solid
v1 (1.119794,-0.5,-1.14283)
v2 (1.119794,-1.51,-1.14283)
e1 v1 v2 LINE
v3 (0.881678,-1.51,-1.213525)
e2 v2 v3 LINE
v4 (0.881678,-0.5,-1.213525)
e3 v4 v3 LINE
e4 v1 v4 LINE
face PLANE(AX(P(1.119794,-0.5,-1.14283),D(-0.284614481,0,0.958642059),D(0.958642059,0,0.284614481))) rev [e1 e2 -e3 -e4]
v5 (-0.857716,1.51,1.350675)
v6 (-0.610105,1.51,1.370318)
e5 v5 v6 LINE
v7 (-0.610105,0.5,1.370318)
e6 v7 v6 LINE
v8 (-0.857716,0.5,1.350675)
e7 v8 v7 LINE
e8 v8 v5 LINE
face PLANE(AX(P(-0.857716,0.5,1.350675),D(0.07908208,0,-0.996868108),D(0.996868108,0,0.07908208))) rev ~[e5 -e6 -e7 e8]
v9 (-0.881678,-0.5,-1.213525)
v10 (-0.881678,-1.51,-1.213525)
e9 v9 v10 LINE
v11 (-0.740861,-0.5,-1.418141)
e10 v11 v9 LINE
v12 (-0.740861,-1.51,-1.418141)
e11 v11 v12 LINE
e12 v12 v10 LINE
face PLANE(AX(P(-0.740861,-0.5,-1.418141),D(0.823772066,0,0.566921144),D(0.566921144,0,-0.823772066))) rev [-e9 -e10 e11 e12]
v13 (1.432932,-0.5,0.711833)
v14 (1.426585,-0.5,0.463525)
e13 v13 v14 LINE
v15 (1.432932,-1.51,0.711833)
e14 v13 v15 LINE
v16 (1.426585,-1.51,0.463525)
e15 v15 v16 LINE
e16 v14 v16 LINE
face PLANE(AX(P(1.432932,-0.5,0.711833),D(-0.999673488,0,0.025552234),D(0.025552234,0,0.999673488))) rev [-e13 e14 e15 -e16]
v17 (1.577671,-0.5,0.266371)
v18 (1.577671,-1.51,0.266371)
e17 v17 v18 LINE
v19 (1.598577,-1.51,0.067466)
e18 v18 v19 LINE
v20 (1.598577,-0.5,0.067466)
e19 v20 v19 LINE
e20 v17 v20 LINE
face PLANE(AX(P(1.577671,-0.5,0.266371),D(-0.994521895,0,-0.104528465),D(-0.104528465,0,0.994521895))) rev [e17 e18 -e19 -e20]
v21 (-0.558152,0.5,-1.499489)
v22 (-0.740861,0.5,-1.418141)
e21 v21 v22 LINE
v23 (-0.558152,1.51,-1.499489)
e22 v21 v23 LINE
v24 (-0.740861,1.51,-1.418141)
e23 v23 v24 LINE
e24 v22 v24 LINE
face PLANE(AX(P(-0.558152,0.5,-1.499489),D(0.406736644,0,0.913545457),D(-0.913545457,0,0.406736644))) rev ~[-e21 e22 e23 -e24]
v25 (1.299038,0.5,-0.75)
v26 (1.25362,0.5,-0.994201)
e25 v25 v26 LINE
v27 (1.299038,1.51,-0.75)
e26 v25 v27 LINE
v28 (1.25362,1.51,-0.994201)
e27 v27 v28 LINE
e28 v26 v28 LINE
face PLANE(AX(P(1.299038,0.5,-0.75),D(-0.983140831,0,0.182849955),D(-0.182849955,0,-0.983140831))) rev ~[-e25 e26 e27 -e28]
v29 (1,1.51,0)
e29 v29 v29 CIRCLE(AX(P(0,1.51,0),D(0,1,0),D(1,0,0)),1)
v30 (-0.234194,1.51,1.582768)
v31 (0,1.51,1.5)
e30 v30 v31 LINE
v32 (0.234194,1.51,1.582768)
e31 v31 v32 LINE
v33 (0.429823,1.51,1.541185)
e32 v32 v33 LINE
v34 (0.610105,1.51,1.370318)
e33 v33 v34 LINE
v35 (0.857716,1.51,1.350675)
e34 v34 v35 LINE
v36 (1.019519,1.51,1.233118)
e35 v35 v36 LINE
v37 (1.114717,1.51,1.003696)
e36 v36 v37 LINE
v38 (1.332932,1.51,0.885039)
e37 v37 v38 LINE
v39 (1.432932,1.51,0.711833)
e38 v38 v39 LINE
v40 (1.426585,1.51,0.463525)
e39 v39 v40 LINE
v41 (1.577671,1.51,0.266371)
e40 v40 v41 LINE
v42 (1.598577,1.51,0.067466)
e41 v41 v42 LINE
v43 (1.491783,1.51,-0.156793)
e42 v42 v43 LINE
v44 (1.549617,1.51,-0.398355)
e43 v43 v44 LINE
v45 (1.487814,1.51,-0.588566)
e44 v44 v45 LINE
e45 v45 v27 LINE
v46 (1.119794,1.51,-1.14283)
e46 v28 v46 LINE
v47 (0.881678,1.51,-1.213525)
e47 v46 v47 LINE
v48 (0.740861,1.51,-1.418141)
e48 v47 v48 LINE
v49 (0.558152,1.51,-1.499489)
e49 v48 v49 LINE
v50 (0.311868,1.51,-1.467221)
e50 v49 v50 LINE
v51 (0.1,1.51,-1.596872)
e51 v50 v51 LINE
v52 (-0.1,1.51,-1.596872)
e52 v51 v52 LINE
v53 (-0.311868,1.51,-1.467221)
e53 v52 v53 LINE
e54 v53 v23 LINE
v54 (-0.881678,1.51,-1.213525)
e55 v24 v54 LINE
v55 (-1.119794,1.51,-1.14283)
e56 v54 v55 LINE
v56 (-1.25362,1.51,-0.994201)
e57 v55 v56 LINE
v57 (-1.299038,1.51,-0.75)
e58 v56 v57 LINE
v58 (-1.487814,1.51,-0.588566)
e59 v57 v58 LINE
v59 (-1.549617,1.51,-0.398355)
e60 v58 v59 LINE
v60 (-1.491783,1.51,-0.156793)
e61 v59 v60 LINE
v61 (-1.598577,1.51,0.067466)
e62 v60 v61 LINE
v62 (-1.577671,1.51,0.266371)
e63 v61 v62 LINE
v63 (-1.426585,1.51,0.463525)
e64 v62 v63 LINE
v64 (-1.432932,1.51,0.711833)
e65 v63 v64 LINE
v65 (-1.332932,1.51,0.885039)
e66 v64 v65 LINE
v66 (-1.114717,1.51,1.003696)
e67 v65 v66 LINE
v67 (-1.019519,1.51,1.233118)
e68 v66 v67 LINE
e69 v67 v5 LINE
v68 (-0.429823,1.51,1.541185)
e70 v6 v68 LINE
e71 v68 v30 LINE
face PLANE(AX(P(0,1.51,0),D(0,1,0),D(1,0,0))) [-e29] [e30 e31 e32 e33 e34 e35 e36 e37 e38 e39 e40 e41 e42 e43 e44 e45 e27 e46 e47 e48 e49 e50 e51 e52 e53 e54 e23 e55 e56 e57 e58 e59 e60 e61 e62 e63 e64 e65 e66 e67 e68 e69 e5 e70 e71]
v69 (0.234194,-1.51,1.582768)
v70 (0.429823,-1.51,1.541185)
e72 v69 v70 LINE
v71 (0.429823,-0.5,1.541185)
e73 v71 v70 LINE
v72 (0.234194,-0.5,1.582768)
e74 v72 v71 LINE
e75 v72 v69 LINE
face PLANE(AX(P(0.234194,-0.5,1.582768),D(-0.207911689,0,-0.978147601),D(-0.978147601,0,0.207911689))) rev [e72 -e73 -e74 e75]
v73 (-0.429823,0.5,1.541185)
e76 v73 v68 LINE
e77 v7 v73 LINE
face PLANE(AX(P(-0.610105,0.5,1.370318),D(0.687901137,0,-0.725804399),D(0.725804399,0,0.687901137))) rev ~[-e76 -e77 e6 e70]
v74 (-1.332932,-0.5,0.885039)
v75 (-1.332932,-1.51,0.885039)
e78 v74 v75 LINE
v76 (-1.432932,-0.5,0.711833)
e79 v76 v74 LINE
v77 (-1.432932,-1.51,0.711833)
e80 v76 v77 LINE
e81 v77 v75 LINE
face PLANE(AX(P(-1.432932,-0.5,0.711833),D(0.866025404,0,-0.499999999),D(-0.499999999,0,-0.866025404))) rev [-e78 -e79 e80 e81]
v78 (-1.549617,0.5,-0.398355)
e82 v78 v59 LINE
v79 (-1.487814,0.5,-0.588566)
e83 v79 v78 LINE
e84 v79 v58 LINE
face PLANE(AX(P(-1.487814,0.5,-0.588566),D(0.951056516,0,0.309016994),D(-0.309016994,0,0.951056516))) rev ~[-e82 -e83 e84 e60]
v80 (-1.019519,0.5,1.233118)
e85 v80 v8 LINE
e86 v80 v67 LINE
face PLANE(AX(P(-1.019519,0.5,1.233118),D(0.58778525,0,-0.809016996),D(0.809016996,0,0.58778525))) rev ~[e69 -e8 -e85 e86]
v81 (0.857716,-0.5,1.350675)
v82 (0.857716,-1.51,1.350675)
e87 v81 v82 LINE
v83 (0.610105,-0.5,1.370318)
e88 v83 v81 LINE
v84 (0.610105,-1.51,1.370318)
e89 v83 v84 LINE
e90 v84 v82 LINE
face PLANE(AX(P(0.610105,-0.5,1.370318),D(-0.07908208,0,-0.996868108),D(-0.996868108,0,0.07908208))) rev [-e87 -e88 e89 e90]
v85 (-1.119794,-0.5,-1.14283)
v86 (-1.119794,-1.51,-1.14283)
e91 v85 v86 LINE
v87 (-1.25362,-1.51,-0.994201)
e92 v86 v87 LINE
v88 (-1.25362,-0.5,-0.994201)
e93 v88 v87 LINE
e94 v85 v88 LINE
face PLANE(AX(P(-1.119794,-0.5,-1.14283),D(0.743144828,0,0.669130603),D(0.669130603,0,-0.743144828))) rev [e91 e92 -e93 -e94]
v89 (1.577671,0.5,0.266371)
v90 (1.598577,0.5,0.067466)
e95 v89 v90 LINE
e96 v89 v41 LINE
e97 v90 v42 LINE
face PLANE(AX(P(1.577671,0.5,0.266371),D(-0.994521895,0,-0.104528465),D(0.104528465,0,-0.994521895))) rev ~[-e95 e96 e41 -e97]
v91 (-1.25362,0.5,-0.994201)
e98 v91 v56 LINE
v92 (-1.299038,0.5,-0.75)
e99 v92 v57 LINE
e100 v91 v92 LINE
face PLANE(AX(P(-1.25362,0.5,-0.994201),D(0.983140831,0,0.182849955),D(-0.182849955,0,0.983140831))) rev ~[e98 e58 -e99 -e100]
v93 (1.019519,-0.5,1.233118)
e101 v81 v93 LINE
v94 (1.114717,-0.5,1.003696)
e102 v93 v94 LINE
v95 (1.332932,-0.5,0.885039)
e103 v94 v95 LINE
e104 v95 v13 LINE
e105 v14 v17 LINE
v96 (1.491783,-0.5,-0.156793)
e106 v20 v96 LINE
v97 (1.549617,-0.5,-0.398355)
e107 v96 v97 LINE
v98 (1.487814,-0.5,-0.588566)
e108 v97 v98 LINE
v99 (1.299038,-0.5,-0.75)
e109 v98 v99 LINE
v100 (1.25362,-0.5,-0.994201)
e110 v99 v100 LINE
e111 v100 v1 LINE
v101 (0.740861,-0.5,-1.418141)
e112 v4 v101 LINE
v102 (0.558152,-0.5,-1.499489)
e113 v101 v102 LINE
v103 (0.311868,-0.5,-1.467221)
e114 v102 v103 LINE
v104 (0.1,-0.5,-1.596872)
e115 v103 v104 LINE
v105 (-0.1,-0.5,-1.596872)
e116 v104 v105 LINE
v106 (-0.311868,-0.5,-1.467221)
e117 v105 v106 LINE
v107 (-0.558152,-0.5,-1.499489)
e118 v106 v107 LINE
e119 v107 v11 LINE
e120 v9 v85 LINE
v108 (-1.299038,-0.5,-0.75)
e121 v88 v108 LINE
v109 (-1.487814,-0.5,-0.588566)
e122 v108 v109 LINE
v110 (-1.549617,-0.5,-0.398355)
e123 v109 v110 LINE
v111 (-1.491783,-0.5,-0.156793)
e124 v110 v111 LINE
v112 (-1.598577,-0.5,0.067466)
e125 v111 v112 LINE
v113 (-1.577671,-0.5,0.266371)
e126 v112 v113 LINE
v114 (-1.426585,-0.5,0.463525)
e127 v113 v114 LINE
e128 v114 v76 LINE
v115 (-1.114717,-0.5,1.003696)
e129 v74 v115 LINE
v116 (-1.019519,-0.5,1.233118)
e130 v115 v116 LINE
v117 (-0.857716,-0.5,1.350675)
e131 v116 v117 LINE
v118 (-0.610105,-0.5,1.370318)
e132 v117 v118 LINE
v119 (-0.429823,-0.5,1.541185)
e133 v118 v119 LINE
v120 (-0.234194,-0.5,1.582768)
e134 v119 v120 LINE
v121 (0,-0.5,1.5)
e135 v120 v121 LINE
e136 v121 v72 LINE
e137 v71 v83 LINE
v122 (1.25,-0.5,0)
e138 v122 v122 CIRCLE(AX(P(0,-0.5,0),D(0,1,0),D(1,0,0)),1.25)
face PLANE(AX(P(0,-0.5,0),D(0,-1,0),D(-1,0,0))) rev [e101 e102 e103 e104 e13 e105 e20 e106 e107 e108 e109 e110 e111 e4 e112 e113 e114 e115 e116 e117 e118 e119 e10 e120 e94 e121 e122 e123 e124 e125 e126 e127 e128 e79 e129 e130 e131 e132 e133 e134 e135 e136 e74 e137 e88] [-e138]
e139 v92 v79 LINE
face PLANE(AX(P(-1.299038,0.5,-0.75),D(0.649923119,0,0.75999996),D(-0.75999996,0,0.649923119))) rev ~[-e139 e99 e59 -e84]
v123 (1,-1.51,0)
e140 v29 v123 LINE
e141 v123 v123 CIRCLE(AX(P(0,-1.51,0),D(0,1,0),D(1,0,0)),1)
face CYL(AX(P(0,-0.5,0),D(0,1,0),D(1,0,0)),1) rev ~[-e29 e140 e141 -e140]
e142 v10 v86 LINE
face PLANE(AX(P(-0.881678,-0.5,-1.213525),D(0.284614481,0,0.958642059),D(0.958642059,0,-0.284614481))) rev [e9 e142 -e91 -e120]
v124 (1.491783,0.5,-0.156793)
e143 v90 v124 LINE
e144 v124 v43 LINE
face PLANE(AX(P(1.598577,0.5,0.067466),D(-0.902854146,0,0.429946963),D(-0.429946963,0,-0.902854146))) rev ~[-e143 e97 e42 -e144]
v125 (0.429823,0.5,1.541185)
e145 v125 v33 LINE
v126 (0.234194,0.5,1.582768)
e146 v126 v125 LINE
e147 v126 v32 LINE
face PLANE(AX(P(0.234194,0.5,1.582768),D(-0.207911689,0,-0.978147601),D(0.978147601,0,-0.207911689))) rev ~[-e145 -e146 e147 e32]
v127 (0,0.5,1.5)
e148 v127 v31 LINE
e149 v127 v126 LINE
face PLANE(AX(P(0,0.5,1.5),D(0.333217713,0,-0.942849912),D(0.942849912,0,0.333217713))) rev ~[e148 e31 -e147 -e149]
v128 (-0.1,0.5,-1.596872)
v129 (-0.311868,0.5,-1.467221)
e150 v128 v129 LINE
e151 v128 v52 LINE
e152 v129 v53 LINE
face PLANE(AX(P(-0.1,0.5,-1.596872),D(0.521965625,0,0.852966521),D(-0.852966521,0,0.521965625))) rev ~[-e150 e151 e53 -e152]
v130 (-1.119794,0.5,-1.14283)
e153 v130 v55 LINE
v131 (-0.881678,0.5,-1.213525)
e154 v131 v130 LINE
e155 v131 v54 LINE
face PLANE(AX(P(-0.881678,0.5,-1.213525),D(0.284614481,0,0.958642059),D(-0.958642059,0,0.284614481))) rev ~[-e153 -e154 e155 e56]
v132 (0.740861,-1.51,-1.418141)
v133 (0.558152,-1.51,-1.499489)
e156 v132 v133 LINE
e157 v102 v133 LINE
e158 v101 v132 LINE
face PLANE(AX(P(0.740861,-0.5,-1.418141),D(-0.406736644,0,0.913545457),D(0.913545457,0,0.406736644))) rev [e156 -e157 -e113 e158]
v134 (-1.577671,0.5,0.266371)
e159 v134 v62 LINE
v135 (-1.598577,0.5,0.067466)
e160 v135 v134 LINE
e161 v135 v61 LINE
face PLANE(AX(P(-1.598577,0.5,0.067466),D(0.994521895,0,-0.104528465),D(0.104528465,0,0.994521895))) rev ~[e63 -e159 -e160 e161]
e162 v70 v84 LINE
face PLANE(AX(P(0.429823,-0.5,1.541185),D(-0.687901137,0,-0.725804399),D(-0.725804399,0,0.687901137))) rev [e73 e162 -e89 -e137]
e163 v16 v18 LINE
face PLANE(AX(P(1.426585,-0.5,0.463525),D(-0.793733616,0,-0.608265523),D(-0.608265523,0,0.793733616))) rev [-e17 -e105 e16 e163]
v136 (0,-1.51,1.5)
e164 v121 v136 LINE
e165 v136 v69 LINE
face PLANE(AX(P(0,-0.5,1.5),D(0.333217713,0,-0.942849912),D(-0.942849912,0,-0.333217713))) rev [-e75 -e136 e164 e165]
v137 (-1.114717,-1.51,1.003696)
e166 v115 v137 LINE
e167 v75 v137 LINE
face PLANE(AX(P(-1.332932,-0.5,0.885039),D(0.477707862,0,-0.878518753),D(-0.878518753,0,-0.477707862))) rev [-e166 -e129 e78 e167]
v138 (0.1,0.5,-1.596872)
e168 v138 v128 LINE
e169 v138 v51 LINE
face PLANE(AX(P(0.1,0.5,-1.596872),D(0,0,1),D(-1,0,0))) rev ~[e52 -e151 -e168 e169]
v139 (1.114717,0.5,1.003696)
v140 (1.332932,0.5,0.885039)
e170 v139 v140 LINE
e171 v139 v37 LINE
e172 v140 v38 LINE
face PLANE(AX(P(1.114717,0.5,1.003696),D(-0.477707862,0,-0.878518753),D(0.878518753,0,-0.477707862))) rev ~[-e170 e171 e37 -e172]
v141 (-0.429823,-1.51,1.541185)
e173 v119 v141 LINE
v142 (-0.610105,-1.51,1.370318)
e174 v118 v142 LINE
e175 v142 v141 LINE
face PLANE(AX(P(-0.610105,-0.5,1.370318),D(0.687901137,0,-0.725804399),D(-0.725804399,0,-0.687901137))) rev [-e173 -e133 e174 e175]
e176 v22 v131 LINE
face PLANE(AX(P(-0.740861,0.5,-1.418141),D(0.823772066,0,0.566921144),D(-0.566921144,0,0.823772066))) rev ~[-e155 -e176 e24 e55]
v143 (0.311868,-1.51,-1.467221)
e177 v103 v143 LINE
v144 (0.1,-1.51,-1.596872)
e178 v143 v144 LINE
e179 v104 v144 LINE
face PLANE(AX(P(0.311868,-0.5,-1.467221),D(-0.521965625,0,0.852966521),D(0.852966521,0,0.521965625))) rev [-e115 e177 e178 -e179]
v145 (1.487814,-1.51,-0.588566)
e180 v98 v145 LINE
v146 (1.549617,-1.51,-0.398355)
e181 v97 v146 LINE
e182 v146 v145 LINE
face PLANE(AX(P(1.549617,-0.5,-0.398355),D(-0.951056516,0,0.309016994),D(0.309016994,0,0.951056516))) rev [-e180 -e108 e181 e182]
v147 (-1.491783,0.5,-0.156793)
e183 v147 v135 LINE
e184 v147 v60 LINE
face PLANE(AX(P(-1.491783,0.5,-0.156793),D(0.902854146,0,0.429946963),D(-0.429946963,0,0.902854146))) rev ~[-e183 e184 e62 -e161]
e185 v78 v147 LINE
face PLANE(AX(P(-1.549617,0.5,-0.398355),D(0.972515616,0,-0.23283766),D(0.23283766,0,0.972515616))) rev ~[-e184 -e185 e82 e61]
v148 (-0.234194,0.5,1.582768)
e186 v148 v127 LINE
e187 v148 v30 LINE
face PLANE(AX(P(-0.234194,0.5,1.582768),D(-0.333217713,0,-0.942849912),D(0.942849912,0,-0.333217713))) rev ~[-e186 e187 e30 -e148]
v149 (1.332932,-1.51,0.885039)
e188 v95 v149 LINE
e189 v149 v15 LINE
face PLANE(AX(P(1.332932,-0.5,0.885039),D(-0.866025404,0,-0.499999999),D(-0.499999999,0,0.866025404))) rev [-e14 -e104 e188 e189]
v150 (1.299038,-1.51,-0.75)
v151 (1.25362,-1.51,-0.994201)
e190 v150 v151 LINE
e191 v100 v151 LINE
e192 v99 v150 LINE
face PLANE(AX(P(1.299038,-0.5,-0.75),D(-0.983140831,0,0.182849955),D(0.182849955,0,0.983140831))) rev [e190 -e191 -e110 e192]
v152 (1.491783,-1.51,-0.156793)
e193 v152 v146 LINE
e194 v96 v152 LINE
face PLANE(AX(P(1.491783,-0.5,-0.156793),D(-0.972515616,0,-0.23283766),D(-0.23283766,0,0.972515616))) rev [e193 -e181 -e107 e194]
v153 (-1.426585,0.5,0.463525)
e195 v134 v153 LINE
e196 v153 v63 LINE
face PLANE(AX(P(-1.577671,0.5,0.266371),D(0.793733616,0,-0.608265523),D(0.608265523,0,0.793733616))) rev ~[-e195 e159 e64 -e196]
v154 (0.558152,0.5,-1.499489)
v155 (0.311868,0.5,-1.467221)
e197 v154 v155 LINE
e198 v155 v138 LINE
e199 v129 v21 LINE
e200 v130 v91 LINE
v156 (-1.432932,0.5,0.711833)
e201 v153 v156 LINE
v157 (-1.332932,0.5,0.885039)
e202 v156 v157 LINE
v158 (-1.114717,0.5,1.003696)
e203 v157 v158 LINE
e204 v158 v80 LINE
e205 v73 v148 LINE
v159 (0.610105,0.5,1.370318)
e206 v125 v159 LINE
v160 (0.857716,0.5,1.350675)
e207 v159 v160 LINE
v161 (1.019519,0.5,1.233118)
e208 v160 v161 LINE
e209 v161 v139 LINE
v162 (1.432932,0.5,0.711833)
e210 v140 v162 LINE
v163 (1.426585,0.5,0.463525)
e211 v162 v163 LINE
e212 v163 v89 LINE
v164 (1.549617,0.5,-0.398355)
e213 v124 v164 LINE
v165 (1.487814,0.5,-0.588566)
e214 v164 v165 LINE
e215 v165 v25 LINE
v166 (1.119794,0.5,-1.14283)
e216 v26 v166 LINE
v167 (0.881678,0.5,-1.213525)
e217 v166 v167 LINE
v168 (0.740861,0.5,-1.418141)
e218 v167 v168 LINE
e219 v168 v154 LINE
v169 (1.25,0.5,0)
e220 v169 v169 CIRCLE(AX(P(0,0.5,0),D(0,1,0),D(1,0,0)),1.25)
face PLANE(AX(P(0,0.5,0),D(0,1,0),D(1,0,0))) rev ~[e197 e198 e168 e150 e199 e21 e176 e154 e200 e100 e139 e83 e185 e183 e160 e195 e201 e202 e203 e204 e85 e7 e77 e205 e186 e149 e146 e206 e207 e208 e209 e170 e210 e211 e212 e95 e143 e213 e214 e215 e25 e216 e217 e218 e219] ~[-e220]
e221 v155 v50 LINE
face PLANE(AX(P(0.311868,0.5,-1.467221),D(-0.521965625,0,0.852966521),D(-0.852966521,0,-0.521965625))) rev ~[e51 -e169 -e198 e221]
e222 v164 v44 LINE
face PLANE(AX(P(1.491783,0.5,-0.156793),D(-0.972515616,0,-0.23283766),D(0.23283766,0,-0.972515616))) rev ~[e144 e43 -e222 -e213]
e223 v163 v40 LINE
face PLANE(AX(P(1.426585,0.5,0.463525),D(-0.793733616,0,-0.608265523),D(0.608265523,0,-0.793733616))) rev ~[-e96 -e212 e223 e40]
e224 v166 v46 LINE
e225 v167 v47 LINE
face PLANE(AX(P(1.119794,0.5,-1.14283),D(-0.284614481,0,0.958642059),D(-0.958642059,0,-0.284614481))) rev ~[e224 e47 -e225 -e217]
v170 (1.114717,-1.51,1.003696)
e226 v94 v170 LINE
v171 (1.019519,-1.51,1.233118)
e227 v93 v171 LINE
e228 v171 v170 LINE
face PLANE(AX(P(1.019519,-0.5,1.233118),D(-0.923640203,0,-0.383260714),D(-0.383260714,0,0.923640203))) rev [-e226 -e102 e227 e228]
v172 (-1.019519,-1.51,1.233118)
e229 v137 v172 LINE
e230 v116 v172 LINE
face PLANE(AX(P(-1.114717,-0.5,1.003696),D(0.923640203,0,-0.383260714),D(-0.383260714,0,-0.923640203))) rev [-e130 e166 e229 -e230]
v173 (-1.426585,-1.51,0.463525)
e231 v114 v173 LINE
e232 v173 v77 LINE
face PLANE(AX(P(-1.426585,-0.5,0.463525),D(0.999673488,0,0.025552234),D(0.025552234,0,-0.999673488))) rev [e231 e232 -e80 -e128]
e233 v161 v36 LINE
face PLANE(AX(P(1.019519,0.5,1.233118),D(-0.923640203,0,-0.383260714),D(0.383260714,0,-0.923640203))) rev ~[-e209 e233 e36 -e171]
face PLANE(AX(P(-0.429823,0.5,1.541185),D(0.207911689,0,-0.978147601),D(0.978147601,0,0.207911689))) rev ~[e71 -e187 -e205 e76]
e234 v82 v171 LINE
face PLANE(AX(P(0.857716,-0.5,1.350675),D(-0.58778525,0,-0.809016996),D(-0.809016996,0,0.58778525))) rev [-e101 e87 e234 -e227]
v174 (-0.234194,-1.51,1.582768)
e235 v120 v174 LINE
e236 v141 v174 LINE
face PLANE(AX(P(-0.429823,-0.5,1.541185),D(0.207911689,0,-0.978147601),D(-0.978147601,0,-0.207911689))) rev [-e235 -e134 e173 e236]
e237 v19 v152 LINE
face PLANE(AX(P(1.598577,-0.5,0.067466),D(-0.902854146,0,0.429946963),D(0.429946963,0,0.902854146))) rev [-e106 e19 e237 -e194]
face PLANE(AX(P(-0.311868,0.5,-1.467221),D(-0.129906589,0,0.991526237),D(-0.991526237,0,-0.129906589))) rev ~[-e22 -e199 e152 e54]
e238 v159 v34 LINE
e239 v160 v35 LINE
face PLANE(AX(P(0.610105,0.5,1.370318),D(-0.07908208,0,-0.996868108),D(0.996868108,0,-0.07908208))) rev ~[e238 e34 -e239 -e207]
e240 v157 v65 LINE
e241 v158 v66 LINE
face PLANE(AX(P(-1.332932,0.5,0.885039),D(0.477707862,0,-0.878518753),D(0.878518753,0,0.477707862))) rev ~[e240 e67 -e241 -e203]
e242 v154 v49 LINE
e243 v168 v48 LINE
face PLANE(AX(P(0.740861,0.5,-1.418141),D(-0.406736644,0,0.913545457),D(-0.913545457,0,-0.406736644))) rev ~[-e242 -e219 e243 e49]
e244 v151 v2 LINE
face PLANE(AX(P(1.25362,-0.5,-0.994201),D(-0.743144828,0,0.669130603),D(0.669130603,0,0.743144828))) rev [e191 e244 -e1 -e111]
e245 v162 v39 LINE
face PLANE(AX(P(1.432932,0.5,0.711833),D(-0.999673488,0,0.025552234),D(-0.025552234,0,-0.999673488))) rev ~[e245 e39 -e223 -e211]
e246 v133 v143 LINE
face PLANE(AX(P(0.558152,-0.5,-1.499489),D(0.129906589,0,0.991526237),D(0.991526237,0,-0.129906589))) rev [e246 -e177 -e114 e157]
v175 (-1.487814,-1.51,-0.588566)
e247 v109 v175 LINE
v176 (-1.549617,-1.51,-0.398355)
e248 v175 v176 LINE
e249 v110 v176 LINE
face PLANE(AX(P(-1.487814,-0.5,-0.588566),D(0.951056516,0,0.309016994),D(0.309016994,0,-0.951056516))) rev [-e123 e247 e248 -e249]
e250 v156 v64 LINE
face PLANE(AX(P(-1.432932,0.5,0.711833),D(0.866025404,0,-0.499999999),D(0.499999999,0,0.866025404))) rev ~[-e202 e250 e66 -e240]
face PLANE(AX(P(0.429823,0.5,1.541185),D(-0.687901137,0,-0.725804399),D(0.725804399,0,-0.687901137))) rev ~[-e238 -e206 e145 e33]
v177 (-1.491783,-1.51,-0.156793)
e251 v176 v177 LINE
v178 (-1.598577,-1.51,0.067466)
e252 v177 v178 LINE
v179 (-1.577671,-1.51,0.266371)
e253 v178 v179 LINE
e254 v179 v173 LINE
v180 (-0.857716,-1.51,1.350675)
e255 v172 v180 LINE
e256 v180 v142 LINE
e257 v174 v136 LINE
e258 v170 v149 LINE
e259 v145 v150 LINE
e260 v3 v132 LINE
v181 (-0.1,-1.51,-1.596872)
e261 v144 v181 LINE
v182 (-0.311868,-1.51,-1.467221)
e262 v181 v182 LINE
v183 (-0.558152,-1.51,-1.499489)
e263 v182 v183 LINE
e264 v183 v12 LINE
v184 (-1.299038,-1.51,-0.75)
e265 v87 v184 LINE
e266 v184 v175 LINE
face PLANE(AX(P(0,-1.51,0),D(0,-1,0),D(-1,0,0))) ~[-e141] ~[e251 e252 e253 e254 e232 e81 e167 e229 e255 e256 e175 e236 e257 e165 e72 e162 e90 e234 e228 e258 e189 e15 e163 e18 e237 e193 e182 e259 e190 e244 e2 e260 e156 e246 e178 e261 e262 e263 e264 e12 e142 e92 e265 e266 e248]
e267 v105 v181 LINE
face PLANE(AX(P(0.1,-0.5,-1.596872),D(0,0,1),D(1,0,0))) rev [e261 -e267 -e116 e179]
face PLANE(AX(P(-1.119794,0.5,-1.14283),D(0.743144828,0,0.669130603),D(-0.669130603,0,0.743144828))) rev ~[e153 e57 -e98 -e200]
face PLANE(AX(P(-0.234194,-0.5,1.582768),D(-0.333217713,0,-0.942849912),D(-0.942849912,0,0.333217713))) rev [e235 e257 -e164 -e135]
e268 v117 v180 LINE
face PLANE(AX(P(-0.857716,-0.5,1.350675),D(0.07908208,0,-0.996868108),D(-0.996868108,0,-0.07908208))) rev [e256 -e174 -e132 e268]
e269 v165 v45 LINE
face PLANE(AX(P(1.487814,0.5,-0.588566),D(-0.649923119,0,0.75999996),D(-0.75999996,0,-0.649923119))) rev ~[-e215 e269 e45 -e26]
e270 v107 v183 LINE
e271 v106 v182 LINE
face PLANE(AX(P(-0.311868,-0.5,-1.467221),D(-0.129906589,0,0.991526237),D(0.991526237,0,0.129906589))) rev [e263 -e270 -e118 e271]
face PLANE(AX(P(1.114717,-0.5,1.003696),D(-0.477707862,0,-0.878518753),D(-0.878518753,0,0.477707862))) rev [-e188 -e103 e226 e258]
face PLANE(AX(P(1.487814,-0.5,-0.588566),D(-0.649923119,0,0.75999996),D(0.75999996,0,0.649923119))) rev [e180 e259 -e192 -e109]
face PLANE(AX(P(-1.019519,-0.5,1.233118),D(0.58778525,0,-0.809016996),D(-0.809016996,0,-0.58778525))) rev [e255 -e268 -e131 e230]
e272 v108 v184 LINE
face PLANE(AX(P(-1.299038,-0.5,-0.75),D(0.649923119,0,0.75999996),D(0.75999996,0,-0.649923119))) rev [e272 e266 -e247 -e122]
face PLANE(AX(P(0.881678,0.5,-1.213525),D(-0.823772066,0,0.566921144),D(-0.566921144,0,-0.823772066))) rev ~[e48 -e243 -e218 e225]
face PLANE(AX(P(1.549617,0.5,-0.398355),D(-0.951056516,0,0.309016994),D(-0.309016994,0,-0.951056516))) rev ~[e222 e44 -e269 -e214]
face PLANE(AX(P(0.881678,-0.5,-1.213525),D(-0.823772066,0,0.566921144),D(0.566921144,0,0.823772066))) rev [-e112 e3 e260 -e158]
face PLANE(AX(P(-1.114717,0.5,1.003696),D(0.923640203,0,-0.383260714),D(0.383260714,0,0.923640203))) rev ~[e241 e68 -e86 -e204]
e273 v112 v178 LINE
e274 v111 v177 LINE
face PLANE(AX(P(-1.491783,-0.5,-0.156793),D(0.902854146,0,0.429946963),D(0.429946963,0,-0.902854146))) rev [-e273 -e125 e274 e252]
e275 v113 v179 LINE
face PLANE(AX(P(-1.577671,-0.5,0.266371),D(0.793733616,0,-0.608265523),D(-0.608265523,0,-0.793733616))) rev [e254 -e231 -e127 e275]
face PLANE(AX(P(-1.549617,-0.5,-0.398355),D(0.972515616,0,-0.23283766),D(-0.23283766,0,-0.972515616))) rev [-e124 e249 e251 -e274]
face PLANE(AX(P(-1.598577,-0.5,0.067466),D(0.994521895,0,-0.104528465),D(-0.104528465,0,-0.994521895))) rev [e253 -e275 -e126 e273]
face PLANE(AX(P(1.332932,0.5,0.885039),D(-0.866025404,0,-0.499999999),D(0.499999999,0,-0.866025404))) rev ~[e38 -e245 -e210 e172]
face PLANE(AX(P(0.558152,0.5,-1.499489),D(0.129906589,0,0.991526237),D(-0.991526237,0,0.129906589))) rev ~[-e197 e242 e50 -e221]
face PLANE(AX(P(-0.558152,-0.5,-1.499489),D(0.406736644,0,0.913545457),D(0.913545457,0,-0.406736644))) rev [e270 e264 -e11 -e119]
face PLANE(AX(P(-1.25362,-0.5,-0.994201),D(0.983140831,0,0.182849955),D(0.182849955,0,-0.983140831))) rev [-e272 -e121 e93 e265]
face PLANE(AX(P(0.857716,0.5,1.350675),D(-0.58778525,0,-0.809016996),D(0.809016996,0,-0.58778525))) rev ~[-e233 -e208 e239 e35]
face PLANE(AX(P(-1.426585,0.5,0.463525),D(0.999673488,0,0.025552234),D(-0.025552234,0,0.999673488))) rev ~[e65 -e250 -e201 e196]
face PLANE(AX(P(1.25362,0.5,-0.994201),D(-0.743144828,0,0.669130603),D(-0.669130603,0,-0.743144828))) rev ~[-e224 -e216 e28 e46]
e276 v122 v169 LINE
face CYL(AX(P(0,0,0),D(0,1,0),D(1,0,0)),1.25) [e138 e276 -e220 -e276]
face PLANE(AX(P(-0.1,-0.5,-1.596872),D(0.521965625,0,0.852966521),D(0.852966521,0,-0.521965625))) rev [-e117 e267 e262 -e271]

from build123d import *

# Parameters (mm, degrees)
SKETCH1_R           = 1.25
SKETCH1_R_2         = 1
BOSS_EXTRUDE1_DEPTH = 0.5
SKETCH2_R           = 1
BOSS_EXTRUDE2_DEPTH = 1.01


with BuildPart() as part:
    # Sketch1 → Boss-Extrude1 (new body)
    with BuildSketch(Plane(origin=(0, 0, 0), x_dir=(1, 0, 0), z_dir=(0, 1, 0))):
        Circle(SKETCH1_R)
        Circle(SKETCH1_R_2, mode=Mode.SUBTRACT)
    boss_extrude1 = extrude(amount=BOSS_EXTRUDE1_DEPTH)

    # Sketch2 → Boss-Extrude2 (add)
    with BuildSketch(Plane(origin=(0, 0.5, 0), x_dir=(1, 0, 0), z_dir=(0, 1, 0))):
        Polygon((-0.740860879, 1.418141445), (-0.881677878, 1.213525492), (-1.11979406, 1.142830374), (-1.253620181, 0.994201408), (-1.299038106, 0.75), (-1.487813767, 0.58856622), (-1.549617166, 0.398354916), (-1.491782843, 0.156792695), (-1.598576957, -0.067466381), (-1.577671264, -0.26637076), (-1.426584774, -0.463525492), (-1.432931669, -0.711833431), (-1.332931669, -0.885038512), (-1.114717238, -1.00369591), (-1.019519477, -1.233118014), (-0.857716078, -1.350675064), (-0.610104965, -1.370318186), (-0.429823106, -1.54118529), (-0.234193585, -1.582767628), (0, -1.5), (0.234193585, -1.582767628), (0.429823106, -1.54118529), (0.610104965, -1.370318186), (0.857716078, -1.350675064), (1.019519477, -1.233118014), (1.114717238, -1.00369591), (1.332931669, -0.885038512), (1.432931669, -0.711833431), (1.426584774, -0.463525492), (1.577671264, -0.26637076), (1.598576957, -0.067466381), (1.491782843, 0.156792695), (1.549617166, 0.398354916), (1.487813767, 0.58856622), (1.299038106, 0.75), (1.253620181, 0.994201408), (1.11979406, 1.142830374), (0.881677878, 1.213525492), (0.740860879, 1.418141445), (0.558151787, 1.499488774), (0.311867536, 1.467221401), (0.1, 1.596871942), (-0.1, 1.596871942), (-0.311867536, 1.467221401), (-0.558151787, 1.499488774), align=None)
        Circle(SKETCH2_R, mode=Mode.SUBTRACT)
    boss_extrude2 = extrude(amount=BOSS_EXTRUDE2_DEPTH)

    # Mirror1: Boss-Extrude1, Boss-Extrude2 across plane
    add(boss_extrude1.mirror(Plane.ZX))
    add(boss_extrude2.mirror(Plane.ZX))


solid = part.part
